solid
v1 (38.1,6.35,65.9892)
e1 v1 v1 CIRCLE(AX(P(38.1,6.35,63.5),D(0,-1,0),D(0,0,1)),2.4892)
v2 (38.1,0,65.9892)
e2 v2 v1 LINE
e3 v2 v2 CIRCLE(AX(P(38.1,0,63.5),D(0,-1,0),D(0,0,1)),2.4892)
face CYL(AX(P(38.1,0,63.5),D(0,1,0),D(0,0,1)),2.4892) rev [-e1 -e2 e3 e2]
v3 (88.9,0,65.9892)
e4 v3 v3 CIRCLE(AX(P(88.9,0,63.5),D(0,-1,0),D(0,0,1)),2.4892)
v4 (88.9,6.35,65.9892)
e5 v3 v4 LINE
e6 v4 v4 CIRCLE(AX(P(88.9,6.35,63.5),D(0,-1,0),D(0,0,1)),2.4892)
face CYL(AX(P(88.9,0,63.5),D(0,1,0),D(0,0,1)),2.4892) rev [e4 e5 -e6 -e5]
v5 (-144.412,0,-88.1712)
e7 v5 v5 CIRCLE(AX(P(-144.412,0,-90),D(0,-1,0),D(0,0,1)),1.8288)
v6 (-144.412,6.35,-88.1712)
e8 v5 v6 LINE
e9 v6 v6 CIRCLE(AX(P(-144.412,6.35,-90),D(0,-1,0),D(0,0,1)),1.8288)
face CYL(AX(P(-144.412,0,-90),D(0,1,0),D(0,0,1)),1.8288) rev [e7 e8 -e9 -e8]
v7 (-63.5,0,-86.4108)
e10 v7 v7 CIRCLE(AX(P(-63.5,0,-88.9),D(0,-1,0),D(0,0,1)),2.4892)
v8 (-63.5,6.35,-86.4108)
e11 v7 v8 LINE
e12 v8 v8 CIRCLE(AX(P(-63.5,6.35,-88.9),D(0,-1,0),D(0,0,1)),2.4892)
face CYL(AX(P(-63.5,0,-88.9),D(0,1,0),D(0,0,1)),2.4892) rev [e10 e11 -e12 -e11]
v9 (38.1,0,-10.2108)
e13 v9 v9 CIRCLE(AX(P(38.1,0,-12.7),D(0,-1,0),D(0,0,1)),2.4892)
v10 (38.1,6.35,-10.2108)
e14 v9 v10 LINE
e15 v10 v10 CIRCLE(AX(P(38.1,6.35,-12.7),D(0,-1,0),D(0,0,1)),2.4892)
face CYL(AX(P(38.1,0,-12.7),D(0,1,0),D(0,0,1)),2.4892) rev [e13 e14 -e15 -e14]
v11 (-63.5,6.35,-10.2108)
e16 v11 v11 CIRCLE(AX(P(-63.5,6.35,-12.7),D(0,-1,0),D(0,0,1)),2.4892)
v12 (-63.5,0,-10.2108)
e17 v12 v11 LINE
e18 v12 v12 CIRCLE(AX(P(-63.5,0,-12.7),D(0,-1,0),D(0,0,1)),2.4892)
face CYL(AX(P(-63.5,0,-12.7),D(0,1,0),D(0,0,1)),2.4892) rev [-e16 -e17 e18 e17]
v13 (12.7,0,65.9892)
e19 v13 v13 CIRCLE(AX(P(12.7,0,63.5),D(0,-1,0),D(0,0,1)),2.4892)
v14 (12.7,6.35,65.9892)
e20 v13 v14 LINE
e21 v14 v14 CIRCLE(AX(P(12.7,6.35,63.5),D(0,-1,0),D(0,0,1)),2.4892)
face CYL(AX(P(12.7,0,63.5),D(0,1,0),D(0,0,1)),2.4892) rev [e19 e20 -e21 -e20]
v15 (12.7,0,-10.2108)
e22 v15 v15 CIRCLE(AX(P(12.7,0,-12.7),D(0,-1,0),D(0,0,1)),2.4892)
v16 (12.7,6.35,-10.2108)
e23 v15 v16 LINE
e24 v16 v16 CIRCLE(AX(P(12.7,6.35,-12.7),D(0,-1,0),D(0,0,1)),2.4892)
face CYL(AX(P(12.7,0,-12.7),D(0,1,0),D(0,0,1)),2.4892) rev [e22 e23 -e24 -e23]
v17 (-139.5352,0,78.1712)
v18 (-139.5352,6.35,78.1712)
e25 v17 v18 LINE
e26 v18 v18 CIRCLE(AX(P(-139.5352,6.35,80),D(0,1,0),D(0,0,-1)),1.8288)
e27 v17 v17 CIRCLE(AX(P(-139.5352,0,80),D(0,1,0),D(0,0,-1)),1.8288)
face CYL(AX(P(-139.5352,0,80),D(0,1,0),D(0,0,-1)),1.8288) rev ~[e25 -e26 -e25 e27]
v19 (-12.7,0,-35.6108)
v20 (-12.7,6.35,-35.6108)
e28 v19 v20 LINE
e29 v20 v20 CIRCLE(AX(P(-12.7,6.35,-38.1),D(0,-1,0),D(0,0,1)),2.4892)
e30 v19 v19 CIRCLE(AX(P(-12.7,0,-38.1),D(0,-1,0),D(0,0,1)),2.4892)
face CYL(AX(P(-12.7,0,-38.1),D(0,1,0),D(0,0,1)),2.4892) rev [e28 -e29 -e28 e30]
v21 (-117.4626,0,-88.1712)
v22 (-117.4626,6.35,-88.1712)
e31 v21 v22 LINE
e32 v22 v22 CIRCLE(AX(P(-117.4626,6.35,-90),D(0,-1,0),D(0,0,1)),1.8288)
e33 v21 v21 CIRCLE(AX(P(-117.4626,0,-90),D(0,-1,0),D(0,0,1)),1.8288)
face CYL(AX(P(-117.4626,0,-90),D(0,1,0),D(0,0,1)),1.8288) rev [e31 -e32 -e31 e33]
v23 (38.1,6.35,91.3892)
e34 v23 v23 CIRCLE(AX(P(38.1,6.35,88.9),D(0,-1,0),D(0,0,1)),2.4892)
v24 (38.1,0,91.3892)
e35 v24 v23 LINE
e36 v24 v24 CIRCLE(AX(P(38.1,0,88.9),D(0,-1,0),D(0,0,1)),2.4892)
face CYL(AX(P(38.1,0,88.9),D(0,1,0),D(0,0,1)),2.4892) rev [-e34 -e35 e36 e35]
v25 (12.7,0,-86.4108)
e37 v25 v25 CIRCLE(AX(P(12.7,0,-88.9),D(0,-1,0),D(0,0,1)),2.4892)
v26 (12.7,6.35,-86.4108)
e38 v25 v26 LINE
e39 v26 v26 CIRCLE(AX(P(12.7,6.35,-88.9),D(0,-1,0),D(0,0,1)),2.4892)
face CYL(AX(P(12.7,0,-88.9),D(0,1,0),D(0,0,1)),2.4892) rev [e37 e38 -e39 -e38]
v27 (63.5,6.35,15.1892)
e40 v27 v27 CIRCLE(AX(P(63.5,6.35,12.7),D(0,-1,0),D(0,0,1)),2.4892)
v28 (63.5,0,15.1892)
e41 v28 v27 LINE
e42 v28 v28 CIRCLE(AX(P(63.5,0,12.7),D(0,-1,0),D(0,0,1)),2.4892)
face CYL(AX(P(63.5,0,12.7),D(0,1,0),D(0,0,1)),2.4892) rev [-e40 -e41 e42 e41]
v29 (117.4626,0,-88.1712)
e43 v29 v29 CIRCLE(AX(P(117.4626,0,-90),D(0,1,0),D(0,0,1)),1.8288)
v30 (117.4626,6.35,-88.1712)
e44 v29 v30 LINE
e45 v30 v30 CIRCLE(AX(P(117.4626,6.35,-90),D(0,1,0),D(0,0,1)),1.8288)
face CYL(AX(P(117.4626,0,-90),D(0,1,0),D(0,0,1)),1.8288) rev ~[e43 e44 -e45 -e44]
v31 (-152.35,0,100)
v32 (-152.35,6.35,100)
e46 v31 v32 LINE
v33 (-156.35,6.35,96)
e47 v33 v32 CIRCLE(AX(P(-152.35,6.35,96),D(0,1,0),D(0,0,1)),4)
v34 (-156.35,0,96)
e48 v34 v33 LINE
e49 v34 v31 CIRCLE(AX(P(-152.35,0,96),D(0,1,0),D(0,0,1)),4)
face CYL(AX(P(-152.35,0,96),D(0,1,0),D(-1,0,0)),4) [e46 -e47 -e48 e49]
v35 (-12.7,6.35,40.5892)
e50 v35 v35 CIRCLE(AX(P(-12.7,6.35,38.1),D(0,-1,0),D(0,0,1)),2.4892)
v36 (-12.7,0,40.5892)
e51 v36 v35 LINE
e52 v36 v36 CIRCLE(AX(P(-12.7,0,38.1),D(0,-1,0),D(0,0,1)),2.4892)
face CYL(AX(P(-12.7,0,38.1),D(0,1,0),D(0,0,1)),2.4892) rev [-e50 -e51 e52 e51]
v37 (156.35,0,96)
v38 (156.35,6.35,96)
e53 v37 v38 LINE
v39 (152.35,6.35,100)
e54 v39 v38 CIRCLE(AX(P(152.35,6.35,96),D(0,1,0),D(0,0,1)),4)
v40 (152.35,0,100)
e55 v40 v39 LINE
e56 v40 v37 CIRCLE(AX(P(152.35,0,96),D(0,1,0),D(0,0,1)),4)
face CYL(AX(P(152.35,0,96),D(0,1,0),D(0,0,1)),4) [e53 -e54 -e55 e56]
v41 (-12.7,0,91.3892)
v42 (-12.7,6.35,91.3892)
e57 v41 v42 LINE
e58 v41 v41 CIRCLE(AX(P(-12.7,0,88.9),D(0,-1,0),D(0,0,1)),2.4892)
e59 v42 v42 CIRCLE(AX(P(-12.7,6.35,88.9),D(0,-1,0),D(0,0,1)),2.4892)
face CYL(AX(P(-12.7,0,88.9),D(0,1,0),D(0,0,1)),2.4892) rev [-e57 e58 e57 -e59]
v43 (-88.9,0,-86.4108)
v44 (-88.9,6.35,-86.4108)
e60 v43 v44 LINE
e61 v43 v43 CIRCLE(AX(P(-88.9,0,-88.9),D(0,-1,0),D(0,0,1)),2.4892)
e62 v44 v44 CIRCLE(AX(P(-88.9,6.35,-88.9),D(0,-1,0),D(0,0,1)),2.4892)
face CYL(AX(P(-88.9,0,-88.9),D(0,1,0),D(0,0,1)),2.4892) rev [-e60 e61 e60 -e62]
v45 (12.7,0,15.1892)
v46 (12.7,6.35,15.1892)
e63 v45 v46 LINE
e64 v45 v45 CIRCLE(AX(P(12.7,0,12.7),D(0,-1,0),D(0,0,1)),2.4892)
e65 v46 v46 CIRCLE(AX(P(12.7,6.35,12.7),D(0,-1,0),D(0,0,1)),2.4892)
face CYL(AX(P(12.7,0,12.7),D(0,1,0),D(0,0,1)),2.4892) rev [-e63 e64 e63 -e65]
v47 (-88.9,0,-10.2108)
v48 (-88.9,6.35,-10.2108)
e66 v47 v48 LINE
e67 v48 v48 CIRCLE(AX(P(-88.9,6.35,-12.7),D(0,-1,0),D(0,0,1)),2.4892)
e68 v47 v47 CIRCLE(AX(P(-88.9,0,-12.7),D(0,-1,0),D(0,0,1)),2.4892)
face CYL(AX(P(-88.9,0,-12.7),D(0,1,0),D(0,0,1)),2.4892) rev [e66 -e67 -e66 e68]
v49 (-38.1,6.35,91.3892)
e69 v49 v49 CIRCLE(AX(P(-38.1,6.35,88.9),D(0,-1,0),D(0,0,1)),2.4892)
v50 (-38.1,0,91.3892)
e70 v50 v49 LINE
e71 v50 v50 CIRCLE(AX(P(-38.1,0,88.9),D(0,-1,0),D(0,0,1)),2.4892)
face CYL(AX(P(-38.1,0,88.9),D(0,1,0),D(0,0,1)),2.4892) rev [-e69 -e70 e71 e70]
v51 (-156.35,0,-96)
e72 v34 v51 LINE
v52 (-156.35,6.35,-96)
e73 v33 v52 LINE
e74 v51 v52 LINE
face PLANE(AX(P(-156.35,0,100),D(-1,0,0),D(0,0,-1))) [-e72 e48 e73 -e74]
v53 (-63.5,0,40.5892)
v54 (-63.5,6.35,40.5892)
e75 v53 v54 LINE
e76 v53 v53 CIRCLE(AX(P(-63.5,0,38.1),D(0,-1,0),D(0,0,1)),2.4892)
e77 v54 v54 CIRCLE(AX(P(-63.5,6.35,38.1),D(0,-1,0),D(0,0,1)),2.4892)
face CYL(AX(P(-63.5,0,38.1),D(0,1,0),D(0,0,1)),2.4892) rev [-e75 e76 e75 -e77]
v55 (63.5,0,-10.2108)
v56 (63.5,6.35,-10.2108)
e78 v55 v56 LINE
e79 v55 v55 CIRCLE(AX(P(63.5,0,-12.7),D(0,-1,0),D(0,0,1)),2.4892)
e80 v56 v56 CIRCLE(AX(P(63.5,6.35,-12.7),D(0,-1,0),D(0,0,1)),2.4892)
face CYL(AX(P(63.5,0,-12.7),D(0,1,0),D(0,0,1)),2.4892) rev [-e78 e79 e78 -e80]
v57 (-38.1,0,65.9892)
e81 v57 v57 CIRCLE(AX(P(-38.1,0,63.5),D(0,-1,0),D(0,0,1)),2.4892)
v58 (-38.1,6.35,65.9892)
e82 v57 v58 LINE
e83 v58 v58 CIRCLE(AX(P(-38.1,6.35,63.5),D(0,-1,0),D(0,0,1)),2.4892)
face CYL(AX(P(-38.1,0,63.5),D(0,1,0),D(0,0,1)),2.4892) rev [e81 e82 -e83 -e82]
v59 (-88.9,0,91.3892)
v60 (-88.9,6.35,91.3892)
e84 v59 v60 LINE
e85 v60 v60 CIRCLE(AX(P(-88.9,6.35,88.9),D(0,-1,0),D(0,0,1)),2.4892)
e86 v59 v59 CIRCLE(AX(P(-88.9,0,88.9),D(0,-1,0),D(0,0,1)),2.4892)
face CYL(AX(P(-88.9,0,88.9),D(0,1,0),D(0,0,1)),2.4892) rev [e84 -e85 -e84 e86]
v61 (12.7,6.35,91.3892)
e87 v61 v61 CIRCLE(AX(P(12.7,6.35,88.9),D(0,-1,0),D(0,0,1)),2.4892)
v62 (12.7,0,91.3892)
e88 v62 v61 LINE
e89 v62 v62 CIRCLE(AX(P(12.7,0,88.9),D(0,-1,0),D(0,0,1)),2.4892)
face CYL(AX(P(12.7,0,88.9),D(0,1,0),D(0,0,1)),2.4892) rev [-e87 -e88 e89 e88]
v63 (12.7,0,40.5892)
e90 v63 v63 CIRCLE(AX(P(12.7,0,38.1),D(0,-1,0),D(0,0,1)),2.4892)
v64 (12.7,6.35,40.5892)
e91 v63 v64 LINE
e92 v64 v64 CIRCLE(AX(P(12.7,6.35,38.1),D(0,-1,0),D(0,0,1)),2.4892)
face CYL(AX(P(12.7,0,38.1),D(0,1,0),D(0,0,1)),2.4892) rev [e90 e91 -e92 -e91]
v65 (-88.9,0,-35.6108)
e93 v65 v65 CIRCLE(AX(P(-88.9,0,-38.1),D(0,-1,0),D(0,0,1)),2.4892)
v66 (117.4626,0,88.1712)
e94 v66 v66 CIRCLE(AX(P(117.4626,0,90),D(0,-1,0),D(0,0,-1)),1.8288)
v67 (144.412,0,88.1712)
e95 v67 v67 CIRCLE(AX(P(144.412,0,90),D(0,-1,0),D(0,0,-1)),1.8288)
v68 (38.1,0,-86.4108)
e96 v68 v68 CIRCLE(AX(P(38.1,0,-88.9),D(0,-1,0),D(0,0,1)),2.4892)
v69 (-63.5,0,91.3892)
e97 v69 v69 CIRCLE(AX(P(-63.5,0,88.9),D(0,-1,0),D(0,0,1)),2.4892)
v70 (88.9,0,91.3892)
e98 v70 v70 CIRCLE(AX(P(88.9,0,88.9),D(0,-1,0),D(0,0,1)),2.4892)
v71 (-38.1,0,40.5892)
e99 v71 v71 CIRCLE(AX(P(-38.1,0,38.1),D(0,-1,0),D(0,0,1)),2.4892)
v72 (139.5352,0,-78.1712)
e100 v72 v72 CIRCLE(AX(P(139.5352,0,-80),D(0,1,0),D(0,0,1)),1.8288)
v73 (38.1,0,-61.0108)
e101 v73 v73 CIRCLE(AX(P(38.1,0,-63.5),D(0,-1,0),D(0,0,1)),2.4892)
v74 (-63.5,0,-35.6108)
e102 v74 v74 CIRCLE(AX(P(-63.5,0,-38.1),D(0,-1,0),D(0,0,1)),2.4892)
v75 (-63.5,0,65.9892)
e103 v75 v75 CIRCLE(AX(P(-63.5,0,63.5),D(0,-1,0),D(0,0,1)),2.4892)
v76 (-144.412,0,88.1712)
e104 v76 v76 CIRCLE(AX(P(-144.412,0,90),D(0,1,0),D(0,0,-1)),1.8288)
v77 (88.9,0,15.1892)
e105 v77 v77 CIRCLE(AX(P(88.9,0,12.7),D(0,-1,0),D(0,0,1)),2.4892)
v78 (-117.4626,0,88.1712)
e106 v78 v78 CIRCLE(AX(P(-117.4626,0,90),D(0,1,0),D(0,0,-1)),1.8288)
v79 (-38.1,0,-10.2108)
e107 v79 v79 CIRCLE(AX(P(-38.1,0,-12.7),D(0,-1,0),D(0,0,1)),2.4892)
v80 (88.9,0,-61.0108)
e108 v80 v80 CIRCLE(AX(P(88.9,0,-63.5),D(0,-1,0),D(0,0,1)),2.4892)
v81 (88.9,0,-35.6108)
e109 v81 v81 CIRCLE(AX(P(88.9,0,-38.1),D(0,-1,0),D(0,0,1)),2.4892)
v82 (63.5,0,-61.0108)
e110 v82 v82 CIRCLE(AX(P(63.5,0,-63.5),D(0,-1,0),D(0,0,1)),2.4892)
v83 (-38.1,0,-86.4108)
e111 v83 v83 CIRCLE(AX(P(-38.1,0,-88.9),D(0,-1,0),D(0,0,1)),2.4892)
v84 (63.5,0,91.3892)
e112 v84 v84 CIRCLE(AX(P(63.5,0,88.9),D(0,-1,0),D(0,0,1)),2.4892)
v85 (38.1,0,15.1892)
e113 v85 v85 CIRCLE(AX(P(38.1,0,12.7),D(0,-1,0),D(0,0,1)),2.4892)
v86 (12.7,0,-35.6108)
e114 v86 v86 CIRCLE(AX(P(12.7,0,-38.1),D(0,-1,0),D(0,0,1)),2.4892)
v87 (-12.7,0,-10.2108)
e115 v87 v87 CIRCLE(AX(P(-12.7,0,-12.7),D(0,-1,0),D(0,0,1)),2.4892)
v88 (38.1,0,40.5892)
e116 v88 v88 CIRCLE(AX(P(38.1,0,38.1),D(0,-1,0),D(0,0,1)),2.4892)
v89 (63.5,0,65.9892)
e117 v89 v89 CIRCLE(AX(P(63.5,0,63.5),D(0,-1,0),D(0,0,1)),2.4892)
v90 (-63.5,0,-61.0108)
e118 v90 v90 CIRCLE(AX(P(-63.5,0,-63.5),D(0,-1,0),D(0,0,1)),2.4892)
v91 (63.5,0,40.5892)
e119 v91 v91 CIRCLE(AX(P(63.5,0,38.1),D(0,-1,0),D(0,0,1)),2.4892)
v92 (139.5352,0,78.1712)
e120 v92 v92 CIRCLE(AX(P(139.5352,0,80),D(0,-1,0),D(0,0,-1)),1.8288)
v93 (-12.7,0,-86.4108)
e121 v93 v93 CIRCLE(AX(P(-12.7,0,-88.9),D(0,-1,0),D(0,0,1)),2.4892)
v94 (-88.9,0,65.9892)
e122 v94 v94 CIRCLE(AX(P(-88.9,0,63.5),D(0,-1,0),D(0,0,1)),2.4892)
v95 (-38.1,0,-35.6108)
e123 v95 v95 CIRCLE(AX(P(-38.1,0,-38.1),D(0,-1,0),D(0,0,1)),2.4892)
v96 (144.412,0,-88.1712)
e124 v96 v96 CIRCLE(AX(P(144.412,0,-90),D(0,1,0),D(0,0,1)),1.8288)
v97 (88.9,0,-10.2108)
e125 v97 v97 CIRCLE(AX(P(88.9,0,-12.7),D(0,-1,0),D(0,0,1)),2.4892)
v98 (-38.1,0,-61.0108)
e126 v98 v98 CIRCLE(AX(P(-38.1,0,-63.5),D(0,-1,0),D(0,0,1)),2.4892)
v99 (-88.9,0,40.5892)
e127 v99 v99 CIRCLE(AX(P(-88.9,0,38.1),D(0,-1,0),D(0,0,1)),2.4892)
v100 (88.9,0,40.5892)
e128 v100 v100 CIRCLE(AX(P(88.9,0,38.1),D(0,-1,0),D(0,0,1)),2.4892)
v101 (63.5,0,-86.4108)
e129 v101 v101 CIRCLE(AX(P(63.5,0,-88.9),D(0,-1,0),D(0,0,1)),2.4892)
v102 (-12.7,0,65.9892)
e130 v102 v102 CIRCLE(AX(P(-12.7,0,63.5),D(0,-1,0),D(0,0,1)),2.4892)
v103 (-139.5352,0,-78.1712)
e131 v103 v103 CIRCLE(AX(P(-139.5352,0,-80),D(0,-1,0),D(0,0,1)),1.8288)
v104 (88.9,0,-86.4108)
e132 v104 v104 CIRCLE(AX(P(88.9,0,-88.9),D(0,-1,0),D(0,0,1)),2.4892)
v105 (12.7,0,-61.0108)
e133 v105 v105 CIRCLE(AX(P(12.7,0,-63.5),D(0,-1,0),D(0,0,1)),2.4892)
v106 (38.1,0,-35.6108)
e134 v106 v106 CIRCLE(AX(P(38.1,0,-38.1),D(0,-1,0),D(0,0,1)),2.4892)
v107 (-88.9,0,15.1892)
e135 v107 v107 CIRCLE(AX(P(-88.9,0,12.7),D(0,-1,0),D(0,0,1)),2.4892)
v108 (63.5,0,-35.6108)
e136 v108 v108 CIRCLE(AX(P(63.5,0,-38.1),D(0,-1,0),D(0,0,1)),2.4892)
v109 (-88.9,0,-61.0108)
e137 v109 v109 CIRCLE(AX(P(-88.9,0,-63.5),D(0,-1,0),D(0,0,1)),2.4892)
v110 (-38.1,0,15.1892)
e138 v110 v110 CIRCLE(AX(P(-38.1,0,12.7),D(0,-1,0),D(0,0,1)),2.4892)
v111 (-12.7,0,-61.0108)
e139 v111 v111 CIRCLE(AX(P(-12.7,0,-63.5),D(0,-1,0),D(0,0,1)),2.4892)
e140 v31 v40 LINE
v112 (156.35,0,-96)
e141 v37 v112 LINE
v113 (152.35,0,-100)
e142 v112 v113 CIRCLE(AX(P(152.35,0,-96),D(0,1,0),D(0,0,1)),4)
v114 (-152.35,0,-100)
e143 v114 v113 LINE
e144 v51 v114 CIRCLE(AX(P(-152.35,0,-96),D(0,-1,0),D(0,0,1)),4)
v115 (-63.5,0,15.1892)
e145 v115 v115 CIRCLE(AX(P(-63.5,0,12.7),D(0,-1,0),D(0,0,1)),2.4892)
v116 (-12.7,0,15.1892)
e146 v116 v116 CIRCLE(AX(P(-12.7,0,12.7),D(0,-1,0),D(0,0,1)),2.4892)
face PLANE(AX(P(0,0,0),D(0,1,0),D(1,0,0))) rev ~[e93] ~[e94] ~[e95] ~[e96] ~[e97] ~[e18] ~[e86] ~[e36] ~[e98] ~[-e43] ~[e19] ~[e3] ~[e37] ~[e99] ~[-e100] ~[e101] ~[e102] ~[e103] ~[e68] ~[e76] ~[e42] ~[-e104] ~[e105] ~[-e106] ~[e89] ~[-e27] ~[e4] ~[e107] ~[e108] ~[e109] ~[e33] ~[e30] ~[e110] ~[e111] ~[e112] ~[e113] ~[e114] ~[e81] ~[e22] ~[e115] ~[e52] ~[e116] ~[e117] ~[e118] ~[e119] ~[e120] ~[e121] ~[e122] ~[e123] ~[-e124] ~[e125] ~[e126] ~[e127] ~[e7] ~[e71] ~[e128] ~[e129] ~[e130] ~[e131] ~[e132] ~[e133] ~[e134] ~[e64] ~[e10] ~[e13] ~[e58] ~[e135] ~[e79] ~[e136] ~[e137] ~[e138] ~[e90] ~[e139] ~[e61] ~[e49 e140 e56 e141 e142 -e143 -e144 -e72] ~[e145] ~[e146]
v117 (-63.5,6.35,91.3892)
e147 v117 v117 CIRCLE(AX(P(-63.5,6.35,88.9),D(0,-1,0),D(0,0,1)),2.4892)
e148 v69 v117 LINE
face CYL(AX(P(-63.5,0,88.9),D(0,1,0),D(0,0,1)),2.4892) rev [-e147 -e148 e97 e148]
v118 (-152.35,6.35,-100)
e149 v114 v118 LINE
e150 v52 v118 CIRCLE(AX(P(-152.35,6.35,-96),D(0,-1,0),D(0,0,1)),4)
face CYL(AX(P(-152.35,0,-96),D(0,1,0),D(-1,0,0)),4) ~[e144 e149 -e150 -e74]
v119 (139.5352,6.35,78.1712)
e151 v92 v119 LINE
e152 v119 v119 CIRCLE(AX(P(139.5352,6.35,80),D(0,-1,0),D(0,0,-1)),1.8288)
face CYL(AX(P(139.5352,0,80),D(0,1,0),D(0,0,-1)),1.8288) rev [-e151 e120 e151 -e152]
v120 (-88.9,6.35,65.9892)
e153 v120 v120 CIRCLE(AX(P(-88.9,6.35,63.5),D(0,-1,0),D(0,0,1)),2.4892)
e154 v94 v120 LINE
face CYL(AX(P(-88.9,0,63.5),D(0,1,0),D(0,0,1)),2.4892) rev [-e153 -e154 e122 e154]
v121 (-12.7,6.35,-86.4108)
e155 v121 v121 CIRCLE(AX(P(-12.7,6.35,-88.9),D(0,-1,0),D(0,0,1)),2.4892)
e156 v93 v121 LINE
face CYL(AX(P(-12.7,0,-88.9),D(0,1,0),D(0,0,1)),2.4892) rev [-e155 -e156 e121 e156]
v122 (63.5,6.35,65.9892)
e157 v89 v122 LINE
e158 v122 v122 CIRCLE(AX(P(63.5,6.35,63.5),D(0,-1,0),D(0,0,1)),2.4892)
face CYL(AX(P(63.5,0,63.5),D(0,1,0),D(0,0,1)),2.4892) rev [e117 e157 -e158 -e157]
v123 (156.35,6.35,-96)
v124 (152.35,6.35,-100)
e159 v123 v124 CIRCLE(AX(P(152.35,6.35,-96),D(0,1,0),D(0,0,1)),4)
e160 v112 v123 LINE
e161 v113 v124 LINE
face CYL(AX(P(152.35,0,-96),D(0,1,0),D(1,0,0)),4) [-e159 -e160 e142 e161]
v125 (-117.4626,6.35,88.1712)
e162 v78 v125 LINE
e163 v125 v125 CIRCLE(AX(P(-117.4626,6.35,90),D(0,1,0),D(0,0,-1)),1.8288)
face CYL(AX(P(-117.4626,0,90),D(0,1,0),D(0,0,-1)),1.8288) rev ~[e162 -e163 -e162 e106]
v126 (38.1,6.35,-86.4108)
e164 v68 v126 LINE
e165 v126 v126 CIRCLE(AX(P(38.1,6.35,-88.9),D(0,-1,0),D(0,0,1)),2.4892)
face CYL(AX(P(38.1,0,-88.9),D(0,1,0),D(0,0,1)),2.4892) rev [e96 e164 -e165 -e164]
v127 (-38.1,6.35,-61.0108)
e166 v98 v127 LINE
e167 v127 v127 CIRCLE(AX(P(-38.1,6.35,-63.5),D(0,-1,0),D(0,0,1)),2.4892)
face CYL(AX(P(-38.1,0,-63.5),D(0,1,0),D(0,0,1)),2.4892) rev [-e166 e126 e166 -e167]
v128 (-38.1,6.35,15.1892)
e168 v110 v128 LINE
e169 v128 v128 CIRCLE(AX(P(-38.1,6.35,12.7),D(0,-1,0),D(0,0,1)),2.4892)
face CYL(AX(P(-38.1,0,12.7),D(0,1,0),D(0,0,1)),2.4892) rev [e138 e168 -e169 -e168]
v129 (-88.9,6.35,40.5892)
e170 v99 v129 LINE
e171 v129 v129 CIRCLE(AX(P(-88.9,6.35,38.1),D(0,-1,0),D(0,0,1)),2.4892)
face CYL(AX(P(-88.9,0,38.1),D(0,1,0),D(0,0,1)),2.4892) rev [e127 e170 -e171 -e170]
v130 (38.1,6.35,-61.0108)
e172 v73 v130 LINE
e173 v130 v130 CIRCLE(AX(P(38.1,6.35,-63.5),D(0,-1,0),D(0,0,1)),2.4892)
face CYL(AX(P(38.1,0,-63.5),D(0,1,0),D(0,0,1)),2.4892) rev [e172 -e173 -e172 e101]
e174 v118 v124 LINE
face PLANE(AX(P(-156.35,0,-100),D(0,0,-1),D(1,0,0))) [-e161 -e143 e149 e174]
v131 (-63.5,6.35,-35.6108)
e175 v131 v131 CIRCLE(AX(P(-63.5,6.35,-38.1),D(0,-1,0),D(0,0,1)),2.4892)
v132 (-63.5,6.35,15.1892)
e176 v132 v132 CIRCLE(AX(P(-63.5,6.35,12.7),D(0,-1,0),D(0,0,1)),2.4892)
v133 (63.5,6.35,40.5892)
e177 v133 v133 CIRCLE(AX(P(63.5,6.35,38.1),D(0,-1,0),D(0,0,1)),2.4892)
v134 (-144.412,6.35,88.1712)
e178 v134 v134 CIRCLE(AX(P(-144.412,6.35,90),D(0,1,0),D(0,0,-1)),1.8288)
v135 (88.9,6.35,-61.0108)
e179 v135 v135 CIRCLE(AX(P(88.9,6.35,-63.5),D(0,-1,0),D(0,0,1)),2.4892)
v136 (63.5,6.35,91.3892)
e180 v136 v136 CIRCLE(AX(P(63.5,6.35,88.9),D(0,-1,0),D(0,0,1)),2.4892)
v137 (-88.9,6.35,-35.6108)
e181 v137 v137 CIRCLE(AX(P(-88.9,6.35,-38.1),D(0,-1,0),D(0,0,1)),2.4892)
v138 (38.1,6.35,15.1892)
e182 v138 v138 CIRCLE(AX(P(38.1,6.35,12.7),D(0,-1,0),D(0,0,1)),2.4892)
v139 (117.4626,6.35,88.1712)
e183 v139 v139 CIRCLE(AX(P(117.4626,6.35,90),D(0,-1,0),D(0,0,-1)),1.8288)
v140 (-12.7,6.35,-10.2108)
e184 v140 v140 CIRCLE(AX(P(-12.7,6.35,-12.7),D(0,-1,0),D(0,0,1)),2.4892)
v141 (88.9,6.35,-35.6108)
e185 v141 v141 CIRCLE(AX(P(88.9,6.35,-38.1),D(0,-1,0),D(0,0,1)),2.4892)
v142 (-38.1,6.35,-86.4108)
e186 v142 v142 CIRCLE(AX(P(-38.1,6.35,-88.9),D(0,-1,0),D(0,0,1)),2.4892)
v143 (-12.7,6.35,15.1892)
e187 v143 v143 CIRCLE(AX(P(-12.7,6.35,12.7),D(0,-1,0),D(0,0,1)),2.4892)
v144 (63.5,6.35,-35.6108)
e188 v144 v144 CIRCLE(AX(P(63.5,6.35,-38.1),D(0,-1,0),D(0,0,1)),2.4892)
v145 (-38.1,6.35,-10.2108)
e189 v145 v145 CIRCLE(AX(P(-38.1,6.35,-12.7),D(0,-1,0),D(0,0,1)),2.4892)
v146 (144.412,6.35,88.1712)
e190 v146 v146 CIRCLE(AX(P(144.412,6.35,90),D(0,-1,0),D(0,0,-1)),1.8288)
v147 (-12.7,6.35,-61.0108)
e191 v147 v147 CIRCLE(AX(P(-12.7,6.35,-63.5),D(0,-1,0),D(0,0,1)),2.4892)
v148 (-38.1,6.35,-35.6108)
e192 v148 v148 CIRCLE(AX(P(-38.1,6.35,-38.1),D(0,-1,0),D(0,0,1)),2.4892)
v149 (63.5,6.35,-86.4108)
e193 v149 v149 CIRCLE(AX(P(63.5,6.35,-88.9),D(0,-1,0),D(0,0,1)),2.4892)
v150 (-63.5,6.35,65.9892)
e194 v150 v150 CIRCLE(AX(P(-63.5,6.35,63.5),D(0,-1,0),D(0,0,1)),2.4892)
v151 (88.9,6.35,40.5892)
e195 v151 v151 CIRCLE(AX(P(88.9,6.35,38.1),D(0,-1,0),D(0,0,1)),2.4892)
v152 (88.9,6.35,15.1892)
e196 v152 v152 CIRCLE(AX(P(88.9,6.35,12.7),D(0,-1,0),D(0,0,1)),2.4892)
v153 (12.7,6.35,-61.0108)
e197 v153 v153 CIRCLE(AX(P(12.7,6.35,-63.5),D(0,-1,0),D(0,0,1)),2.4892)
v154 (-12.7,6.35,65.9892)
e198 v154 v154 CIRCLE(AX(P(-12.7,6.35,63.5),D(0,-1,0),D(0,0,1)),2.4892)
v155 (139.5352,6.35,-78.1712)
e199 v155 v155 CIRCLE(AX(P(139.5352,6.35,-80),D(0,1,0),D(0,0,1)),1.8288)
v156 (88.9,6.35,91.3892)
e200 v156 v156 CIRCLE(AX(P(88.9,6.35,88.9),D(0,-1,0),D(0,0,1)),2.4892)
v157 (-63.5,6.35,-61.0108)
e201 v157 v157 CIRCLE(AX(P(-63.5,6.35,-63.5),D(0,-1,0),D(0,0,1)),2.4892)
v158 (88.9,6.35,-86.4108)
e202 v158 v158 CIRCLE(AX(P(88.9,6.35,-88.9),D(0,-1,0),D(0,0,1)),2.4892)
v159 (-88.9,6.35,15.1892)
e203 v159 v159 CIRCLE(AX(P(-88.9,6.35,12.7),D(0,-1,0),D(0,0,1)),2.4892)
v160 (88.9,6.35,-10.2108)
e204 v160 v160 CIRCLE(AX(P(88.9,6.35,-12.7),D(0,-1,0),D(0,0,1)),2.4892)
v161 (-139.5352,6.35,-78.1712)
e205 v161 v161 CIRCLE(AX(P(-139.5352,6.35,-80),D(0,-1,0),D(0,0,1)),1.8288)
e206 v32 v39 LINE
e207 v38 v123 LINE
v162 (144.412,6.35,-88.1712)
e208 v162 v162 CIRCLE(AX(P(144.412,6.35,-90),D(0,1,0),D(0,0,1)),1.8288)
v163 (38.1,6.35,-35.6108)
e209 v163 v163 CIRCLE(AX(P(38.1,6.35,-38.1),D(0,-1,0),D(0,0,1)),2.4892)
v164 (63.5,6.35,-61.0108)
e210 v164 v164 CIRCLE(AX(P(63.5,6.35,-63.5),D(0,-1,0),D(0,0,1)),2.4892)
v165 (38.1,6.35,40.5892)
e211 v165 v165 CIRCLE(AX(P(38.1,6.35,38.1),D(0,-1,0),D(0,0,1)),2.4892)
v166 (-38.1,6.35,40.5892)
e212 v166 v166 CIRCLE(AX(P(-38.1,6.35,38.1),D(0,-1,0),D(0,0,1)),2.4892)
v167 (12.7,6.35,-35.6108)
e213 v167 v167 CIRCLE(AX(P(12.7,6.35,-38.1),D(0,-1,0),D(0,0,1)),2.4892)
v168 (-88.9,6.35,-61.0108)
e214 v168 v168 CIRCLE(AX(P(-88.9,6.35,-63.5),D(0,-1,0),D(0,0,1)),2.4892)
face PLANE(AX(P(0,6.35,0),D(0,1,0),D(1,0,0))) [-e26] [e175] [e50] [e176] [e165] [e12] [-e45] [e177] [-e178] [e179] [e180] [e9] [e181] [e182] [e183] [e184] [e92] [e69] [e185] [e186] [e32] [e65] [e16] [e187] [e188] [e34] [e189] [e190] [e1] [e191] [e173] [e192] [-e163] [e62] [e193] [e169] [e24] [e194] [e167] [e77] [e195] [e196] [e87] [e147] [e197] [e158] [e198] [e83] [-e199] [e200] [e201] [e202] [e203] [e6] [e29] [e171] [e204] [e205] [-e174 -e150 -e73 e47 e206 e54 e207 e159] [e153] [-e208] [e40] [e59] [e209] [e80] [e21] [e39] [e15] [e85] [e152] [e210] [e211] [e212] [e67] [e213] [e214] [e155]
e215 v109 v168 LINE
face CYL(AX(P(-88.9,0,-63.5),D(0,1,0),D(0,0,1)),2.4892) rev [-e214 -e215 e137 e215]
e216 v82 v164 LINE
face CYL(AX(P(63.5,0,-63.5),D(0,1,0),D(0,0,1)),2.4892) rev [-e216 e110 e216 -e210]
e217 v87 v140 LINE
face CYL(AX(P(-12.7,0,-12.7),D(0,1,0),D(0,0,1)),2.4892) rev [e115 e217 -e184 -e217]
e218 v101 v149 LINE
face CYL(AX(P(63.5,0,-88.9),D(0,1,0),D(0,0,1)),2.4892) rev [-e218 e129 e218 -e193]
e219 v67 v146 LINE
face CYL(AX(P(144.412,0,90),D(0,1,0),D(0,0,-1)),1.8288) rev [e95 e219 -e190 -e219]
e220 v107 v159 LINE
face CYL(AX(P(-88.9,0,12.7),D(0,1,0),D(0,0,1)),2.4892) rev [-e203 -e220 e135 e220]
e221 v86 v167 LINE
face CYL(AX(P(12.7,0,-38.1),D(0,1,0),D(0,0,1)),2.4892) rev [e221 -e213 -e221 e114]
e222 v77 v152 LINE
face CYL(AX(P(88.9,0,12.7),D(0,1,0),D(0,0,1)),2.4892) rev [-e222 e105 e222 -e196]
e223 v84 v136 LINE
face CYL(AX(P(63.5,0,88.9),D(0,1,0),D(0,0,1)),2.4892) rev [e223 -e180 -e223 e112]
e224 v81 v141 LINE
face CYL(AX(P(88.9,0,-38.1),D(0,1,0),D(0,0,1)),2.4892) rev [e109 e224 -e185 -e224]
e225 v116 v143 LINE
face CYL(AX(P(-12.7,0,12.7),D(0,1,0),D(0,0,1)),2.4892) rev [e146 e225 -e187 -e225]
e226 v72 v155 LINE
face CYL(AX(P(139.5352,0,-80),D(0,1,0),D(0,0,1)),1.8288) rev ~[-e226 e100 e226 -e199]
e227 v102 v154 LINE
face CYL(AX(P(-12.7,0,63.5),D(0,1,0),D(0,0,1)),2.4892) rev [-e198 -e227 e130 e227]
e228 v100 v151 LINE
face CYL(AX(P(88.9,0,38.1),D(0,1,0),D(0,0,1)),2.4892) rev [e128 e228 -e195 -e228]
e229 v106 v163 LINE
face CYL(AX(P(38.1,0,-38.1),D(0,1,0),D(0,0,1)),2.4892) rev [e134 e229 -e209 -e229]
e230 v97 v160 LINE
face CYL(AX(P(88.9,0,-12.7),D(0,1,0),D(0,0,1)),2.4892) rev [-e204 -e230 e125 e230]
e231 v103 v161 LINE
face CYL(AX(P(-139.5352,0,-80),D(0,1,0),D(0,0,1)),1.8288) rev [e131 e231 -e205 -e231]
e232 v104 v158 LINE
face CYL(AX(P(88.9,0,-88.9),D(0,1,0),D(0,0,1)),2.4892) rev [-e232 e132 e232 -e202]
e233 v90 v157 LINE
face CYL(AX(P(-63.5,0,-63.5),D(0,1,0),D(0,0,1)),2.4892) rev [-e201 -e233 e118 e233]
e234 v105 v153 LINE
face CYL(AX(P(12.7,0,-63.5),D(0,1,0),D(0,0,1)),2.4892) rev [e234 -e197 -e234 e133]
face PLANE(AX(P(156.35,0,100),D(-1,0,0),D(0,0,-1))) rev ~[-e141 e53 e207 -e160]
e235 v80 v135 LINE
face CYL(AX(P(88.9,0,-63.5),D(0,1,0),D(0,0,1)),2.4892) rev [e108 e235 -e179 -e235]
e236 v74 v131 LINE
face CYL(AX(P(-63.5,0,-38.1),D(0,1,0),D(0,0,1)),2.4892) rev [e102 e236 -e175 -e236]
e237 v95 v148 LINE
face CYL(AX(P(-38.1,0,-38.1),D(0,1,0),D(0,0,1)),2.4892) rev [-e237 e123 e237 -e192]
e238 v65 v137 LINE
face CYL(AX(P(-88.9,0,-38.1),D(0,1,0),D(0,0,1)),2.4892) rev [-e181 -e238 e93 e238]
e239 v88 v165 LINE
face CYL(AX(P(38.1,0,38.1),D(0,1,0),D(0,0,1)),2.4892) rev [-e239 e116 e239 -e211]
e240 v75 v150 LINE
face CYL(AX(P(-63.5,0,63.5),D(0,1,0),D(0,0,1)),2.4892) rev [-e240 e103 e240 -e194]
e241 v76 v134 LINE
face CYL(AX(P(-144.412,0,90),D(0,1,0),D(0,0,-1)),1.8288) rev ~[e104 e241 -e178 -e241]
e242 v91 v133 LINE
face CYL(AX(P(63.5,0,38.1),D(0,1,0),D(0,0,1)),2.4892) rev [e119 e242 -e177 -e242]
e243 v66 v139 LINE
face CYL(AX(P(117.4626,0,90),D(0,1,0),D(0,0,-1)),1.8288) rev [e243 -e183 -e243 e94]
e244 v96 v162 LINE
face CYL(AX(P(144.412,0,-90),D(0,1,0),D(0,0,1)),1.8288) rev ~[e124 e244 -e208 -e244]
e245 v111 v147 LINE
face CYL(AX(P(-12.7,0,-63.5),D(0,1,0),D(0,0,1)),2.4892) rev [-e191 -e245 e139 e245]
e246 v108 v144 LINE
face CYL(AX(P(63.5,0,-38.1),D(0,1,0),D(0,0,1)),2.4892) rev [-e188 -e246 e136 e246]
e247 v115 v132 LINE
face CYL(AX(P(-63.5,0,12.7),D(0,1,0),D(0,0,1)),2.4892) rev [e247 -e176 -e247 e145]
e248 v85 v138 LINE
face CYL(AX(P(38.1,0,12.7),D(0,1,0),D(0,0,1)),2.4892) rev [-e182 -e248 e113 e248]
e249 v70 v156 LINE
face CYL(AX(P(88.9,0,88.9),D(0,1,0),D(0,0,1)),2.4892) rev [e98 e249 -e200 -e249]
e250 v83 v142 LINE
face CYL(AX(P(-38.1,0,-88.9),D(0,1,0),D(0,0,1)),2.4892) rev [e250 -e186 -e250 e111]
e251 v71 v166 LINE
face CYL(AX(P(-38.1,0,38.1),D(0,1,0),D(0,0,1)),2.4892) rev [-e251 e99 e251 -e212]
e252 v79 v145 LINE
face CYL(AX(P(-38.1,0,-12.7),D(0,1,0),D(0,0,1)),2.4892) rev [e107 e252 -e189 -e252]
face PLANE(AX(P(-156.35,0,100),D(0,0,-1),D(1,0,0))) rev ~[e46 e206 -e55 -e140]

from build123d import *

# Parameters (mm, degrees)
SKETCH1_W                      = 312.7
SKETCH1_H                      = 200
BOSS_EXTRUDE1_DEPTH            = 6.35
FILLET1_R                      = 4
F_6_CLEARANCE_HOLE1_AT_2_COUNT = 2
F_6_CLEARANCE_HOLE1_AT_2_PITCH = 26.9494
F_6_CLEARANCE_HOLE1_AT_3_COUNT = 2
F_6_CLEARANCE_HOLE1_AT_3_PITCH = 11.125788882
LPATTERN2_COUNT                = 8
LPATTERN2_PITCH                = 25.4
LPATTERN3_COUNT                = 8
LPATTERN3_PITCH                = 25.4


with BuildPart() as part:
    # Sketch1 → Boss-Extrude1 (new body)
    with BuildSketch(Plane(origin=(0, 0, 0), x_dir=(1, 0, 0), z_dir=(0, 1, 0))):
        Rectangle(SKETCH1_W, SKETCH1_H)
    extrude(amount=BOSS_EXTRUDE1_DEPTH)

    # Fillet1
    fillet1_edges = [part.edges().sort_by_distance(p)[0] for p in [
        (156.35, 3.175, 100),
        (-156.35, 3.175, 100),
        (-156.35, 3.175, -100),
        (156.35, 3.175, -100),
    ]]
    fillet(fillet1_edges, radius=FILLET1_R)

    # Sketch4 → #6 Clearance Hole1 (revolve, cut)
    with BuildSketch(Plane(origin=(-144.412, 6.35, -90), x_dir=(0, 0, 1), z_dir=(1, 0, 0))):
        Polygon((0, 0), (0, 7.4488539), (1.8288, 6.35), (1.8288, 0), align=None)
    f_6_clearance_hole1 = revolve(axis=Axis((-144.412, 12.7, -90), (0, -1, 0)), mode=Mode.SUBTRACT)

    # #6 Clearance Hole1 at 2: #6 Clearance Hole1 ×2
    with Locations(*[(i * F_6_CLEARANCE_HOLE1_AT_2_PITCH, 0, 0) for i in range(1, F_6_CLEARANCE_HOLE1_AT_2_COUNT)]):
        add(f_6_clearance_hole1, mode=Mode.SUBTRACT)

    # #6 Clearance Hole1 at 3: #6 Clearance Hole1 ×2
    with Locations(*[Vector(0.438332962, 0, 0.898812669) * (i * F_6_CLEARANCE_HOLE1_AT_3_PITCH) for i in range(1, F_6_CLEARANCE_HOLE1_AT_3_COUNT)]):
        add(f_6_clearance_hole1, mode=Mode.SUBTRACT)

    # Mirror1: #6 Clearance Hole1 across plane
    add(f_6_clearance_hole1.mirror(Plane.XY), mode=Mode.SUBTRACT)

    # Mirror1 copy 1 sketch → Mirror1 copy 1 (revolve, cut)
    with BuildSketch(Plane(origin=(-117.4626, 6.35, 90), x_dir=(0, 0, -1), z_dir=(1, 0, 0))):
        Polygon((0, 0), (0, -7.4488539), (1.8288, -6.35), (1.8288, 0), align=None)
    revolve(axis=Axis((-117.4626, 12.7, 90), (0, 1, 0)), mode=Mode.SUBTRACT)

    # Mirror1 copy 2 sketch → Mirror1 copy 2 (revolve, cut)
    with BuildSketch(Plane(origin=(-139.5352, 6.35, 80), x_dir=(0, 0, -1), z_dir=(1, 0, 0))):
        Polygon((0, 0), (0, -7.4488539), (1.8288, -6.35), (1.8288, 0), align=None)
    revolve(axis=Axis((-139.5352, 12.7, 80), (0, 1, 0)), mode=Mode.SUBTRACT)

    # Mirror2: #6 Clearance Hole1 across plane
    add(f_6_clearance_hole1.mirror(Plane(origin=(0, 0, 0), x_dir=(0, 0, 1), z_dir=(1, 0, 0))), mode=Mode.SUBTRACT)

    # Mirror2 copy 1 sketch → Mirror2 copy 1 (revolve, cut)
    with BuildSketch(Plane(origin=(144.412, 6.35, 90), x_dir=(0, 0, -1), z_dir=(-1, 0, 0))):
        Polygon((0, 0), (0, 7.4488539), (1.8288, 6.35), (1.8288, 0), align=None)
    revolve(axis=Axis((144.412, 12.7, 90), (0, -1, 0)), mode=Mode.SUBTRACT)

    # Mirror2 copy 2 sketch → Mirror2 copy 2 (revolve, cut)
    with BuildSketch(Plane(origin=(117.4626, 6.35, 90), x_dir=(0, 0, -1), z_dir=(-1, 0, 0))):
        Polygon((0, 0), (0, 7.4488539), (1.8288, 6.35), (1.8288, 0), align=None)
    revolve(axis=Axis((117.4626, 12.7, 90), (0, -1, 0)), mode=Mode.SUBTRACT)

    # Mirror2 copy 3 sketch → Mirror2 copy 3 (revolve, cut)
    with BuildSketch(Plane(origin=(139.5352, 6.35, 80), x_dir=(0, 0, -1), z_dir=(-1, 0, 0))):
        Polygon((0, 0), (0, 7.4488539), (1.8288, 6.35), (1.8288, 0), align=None)
    revolve(axis=Axis((139.5352, 12.7, 80), (0, -1, 0)), mode=Mode.SUBTRACT)

    # Mirror2 copy 4 sketch → Mirror2 copy 4 (revolve, cut)
    with BuildSketch(Plane(origin=(117.4626, 6.35, -90), x_dir=(0, 0, 1), z_dir=(-1, 0, 0))):
        Polygon((0, 0), (0, -7.4488539), (1.8288, -6.35), (1.8288, 0), align=None)
    revolve(axis=Axis((117.4626, 12.7, -90), (0, 1, 0)), mode=Mode.SUBTRACT)

    # Mirror2 copy 5 sketch → Mirror2 copy 5 (revolve, cut)
    with BuildSketch(Plane(origin=(139.5352, 6.35, -80), x_dir=(0, 0, 1), z_dir=(-1, 0, 0))):
        Polygon((0, 0), (0, -7.4488539), (1.8288, -6.35), (1.8288, 0), align=None)
    revolve(axis=Axis((139.5352, 12.7, -80), (0, 1, 0)), mode=Mode.SUBTRACT)

    # Sketch9 → #10 Clearance Hole3 (revolve, cut)
    with BuildSketch(Plane(origin=(-88.9, 6.35, 88.9), x_dir=(0, 0, 1), z_dir=(1, 0, 0))):
        Polygon((0, 0), (0, 7.845662253), (2.4892, 6.35), (2.4892, 0), align=None)
    f_10_clearance_hole3 = revolve(axis=Axis((-88.9, 12.7, 88.9), (0, -1, 0)), mode=Mode.SUBTRACT)

    # LPattern2: #10 Clearance Hole3 ×8
    with Locations(*[(0, 0, -i * LPATTERN2_PITCH) for i in range(1, LPATTERN2_COUNT)]):
        add(f_10_clearance_hole3, mode=Mode.SUBTRACT)

    # LPattern3: #10 Clearance Hole3 ×8
    with Locations(*[(i * LPATTERN3_PITCH, 0, 0) for i in range(1, LPATTERN3_COUNT)]):
        add(f_10_clearance_hole3, mode=Mode.SUBTRACT)

    # LPattern3 copy 1 sketch → LPattern3 copy 1 (revolve, cut)
    with BuildSketch(Plane(origin=(-63.5, 6.35, 63.5), x_dir=(0, 0, 1), z_dir=(1, 0, 0))):
        Polygon((0, 0), (0, 7.845662253), (2.4892, 6.35), (2.4892, 0), align=None)
    revolve(axis=Axis((-63.5, 12.7, 63.5), (0, -1, 0)), mode=Mode.SUBTRACT)

    # LPattern3 copy 2 sketch → LPattern3 copy 2 (revolve, cut)
    with BuildSketch(Plane(origin=(-38.1, 6.35, 63.5), x_dir=(0, 0, 1), z_dir=(1, 0, 0))):
        Polygon((0, 0), (0, 7.845662253), (2.4892, 6.35), (2.4892, 0), align=None)
    revolve(axis=Axis((-38.1, 12.7, 63.5), (0, -1, 0)), mode=Mode.SUBTRACT)

    # LPattern3 copy 3 sketch → LPattern3 copy 3 (revolve, cut)
    with BuildSketch(Plane(origin=(-12.7, 6.35, 63.5), x_dir=(0, 0, 1), z_dir=(1, 0, 0))):
        Polygon((0, 0), (0, 7.845662253), (2.4892, 6.35), (2.4892, 0), align=None)
    revolve(axis=Axis((-12.7, 12.7, 63.5), (0, -1, 0)), mode=Mode.SUBTRACT)

    # LPattern3 copy 4 sketch → LPattern3 copy 4 (revolve, cut)
    with BuildSketch(Plane(origin=(12.7, 6.35, 63.5), x_dir=(0, 0, 1), z_dir=(1, 0, 0))):
        Polygon((0, 0), (0, 7.845662253), (2.4892, 6.35), (2.4892, 0), align=None)
    revolve(axis=Axis((12.7, 12.7, 63.5), (0, -1, 0)), mode=Mode.SUBTRACT)

    # LPattern3 copy 5 sketch → LPattern3 copy 5 (revolve, cut)
    with BuildSketch(Plane(origin=(38.1, 6.35, 63.5), x_dir=(0, 0, 1), z_dir=(1, 0, 0))):
        Polygon((0, 0), (0, 7.845662253), (2.4892, 6.35), (2.4892, 0), align=None)
    revolve(axis=Axis((38.1, 12.7, 63.5), (0, -1, 0)), mode=Mode.SUBTRACT)

    # LPattern3 copy 6 sketch → LPattern3 copy 6 (revolve, cut)
    with BuildSketch(Plane(origin=(63.5, 6.35, 63.5), x_dir=(0, 0, 1), z_dir=(1, 0, 0))):
        Polygon((0, 0), (0, 7.845662253), (2.4892, 6.35), (2.4892, 0), align=None)
    revolve(axis=Axis((63.5, 12.7, 63.5), (0, -1, 0)), mode=Mode.SUBTRACT)

    # LPattern3 copy 7 sketch → LPattern3 copy 7 (revolve, cut)
    with BuildSketch(Plane(origin=(88.9, 6.35, 63.5), x_dir=(0, 0, 1), z_dir=(1, 0, 0))):
        Polygon((0, 0), (0, 7.845662253), (2.4892, 6.35), (2.4892, 0), align=None)
    revolve(axis=Axis((88.9, 12.7, 63.5), (0, -1, 0)), mode=Mode.SUBTRACT)

    # LPattern3 copy 8 sketch → LPattern3 copy 8 (revolve, cut)
    with BuildSketch(Plane(origin=(-63.5, 6.35, 38.1), x_dir=(0, 0, 1), z_dir=(1, 0, 0))):
        Polygon((0, 0), (0, 7.845662253), (2.4892, 6.35), (2.4892, 0), align=None)
    revolve(axis=Axis((-63.5, 12.7, 38.1), (0, -1, 0)), mode=Mode.SUBTRACT)

    # LPattern3 copy 9 sketch → LPattern3 copy 9 (revolve, cut)
    with BuildSketch(Plane(origin=(-38.1, 6.35, 38.1), x_dir=(0, 0, 1), z_dir=(1, 0, 0))):
        Polygon((0, 0), (0, 7.845662253), (2.4892, 6.35), (2.4892, 0), align=None)
    revolve(axis=Axis((-38.1, 12.7, 38.1), (0, -1, 0)), mode=Mode.SUBTRACT)

    # LPattern3 copy 10 sketch → LPattern3 copy 10 (revolve, cut)
    with BuildSketch(Plane(origin=(-12.7, 6.35, 38.1), x_dir=(0, 0, 1), z_dir=(1, 0, 0))):
        Polygon((0, 0), (0, 7.845662253), (2.4892, 6.35), (2.4892, 0), align=None)
    revolve(axis=Axis((-12.7, 12.7, 38.1), (0, -1, 0)), mode=Mode.SUBTRACT)

    # LPattern3 copy 11 sketch → LPattern3 copy 11 (revolve, cut)
    with BuildSketch(Plane(origin=(12.7, 6.35, 38.1), x_dir=(0, 0, 1), z_dir=(1, 0, 0))):
        Polygon((0, 0), (0, 7.845662253), (2.4892, 6.35), (2.4892, 0), align=None)
    revolve(axis=Axis((12.7, 12.7, 38.1), (0, -1, 0)), mode=Mode.SUBTRACT)

    # LPattern3 copy 12 sketch → LPattern3 copy 12 (revolve, cut)
    with BuildSketch(Plane(origin=(38.1, 6.35, 38.1), x_dir=(0, 0, 1), z_dir=(1, 0, 0))):
        Polygon((0, 0), (0, 7.845662253), (2.4892, 6.35), (2.4892, 0), align=None)
    revolve(axis=Axis((38.1, 12.7, 38.1), (0, -1, 0)), mode=Mode.SUBTRACT)

    # LPattern3 copy 13 sketch → LPattern3 copy 13 (revolve, cut)
    with BuildSketch(Plane(origin=(63.5, 6.35, 38.1), x_dir=(0, 0, 1), z_dir=(1, 0, 0))):
        Polygon((0, 0), (0, 7.845662253), (2.4892, 6.35), (2.4892, 0), align=None)
    revolve(axis=Axis((63.5, 12.7, 38.1), (0, -1, 0)), mode=Mode.SUBTRACT)

    # LPattern3 copy 14 sketch → LPattern3 copy 14 (revolve, cut)
    with BuildSketch(Plane(origin=(88.9, 6.35, 38.1), x_dir=(0, 0, 1), z_dir=(1, 0, 0))):
        Polygon((0, 0), (0, 7.845662253), (2.4892, 6.35), (2.4892, 0), align=None)
    revolve(axis=Axis((88.9, 12.7, 38.1), (0, -1, 0)), mode=Mode.SUBTRACT)

    # LPattern3 copy 15 sketch → LPattern3 copy 15 (revolve, cut)
    with BuildSketch(Plane(origin=(-63.5, 6.35, 12.7), x_dir=(0, 0, 1), z_dir=(1, 0, 0))):
        Polygon((0, 0), (0, 7.845662253), (2.4892, 6.35), (2.4892, 0), align=None)
    revolve(axis=Axis((-63.5, 12.7, 12.7), (0, -1, 0)), mode=Mode.SUBTRACT)

    # LPattern3 copy 16 sketch → LPattern3 copy 16 (revolve, cut)
    with BuildSketch(Plane(origin=(-38.1, 6.35, 12.7), x_dir=(0, 0, 1), z_dir=(1, 0, 0))):
        Polygon((0, 0), (0, 7.845662253), (2.4892, 6.35), (2.4892, 0), align=None)
    revolve(axis=Axis((-38.1, 12.7, 12.7), (0, -1, 0)), mode=Mode.SUBTRACT)

    # LPattern3 copy 17 sketch → LPattern3 copy 17 (revolve, cut)
    with BuildSketch(Plane(origin=(-12.7, 6.35, 12.7), x_dir=(0, 0, 1), z_dir=(1, 0, 0))):
        Polygon((0, 0), (0, 7.845662253), (2.4892, 6.35), (2.4892, 0), align=None)
    revolve(axis=Axis((-12.7, 12.7, 12.7), (0, -1, 0)), mode=Mode.SUBTRACT)

    # LPattern3 copy 18 sketch → LPattern3 copy 18 (revolve, cut)
    with BuildSketch(Plane(origin=(12.7, 6.35, 12.7), x_dir=(0, 0, 1), z_dir=(1, 0, 0))):
        Polygon((0, 0), (0, 7.845662253), (2.4892, 6.35), (2.4892, 0), align=None)
    revolve(axis=Axis((12.7, 12.7, 12.7), (0, -1, 0)), mode=Mode.SUBTRACT)

    # LPattern3 copy 19 sketch → LPattern3 copy 19 (revolve, cut)
    with BuildSketch(Plane(origin=(38.1, 6.35, 12.7), x_dir=(0, 0, 1), z_dir=(1, 0, 0))):
        Polygon((0, 0), (0, 7.845662253), (2.4892, 6.35), (2.4892, 0), align=None)
    revolve(axis=Axis((38.1, 12.7, 12.7), (0, -1, 0)), mode=Mode.SUBTRACT)

    # LPattern3 copy 20 sketch → LPattern3 copy 20 (revolve, cut)
    with BuildSketch(Plane(origin=(63.5, 6.35, 12.7), x_dir=(0, 0, 1), z_dir=(1, 0, 0))):
        Polygon((0, 0), (0, 7.845662253), (2.4892, 6.35), (2.4892, 0), align=None)
    revolve(axis=Axis((63.5, 12.7, 12.7), (0, -1, 0)), mode=Mode.SUBTRACT)

    # LPattern3 copy 21 sketch → LPattern3 copy 21 (revolve, cut)
    with BuildSketch(Plane(origin=(88.9, 6.35, 12.7), x_dir=(0, 0, 1), z_dir=(1, 0, 0))):
        Polygon((0, 0), (0, 7.845662253), (2.4892, 6.35), (2.4892, 0), align=None)
    revolve(axis=Axis((88.9, 12.7, 12.7), (0, -1, 0)), mode=Mode.SUBTRACT)

    # LPattern3 copy 22 sketch → LPattern3 copy 22 (revolve, cut)
    with BuildSketch(Plane(origin=(-63.5, 6.35, -12.7), x_dir=(0, 0, 1), z_dir=(1, 0, 0))):
        Polygon((0, 0), (0, 7.845662253), (2.4892, 6.35), (2.4892, 0), align=None)
    revolve(axis=Axis((-63.5, 12.7, -12.7), (0, -1, 0)), mode=Mode.SUBTRACT)

    # LPattern3 copy 23 sketch → LPattern3 copy 23 (revolve, cut)
    with BuildSketch(Plane(origin=(-38.1, 6.35, -12.7), x_dir=(0, 0, 1), z_dir=(1, 0, 0))):
        Polygon((0, 0), (0, 7.845662253), (2.4892, 6.35), (2.4892, 0), align=None)
    revolve(axis=Axis((-38.1, 12.7, -12.7), (0, -1, 0)), mode=Mode.SUBTRACT)

    # LPattern3 copy 24 sketch → LPattern3 copy 24 (revolve, cut)
    with BuildSketch(Plane(origin=(-12.7, 6.35, -12.7), x_dir=(0, 0, 1), z_dir=(1, 0, 0))):
        Polygon((0, 0), (0, 7.845662253), (2.4892, 6.35), (2.4892, 0), align=None)
    revolve(axis=Axis((-12.7, 12.7, -12.7), (0, -1, 0)), mode=Mode.SUBTRACT)

    # LPattern3 copy 25 sketch → LPattern3 copy 25 (revolve, cut)
    with BuildSketch(Plane(origin=(12.7, 6.35, -12.7), x_dir=(0, 0, 1), z_dir=(1, 0, 0))):
        Polygon((0, 0), (0, 7.845662253), (2.4892, 6.35), (2.4892, 0), align=None)
    revolve(axis=Axis((12.7, 12.7, -12.7), (0, -1, 0)), mode=Mode.SUBTRACT)

    # LPattern3 copy 26 sketch → LPattern3 copy 26 (revolve, cut)
    with BuildSketch(Plane(origin=(38.1, 6.35, -12.7), x_dir=(0, 0, 1), z_dir=(1, 0, 0))):
        Polygon((0, 0), (0, 7.845662253), (2.4892, 6.35), (2.4892, 0), align=None)
    revolve(axis=Axis((38.1, 12.7, -12.7), (0, -1, 0)), mode=Mode.SUBTRACT)

    # LPattern3 copy 27 sketch → LPattern3 copy 27 (revolve, cut)
    with BuildSketch(Plane(origin=(63.5, 6.35, -12.7), x_dir=(0, 0, 1), z_dir=(1, 0, 0))):
        Polygon((0, 0), (0, 7.845662253), (2.4892, 6.35), (2.4892, 0), align=None)
    revolve(axis=Axis((63.5, 12.7, -12.7), (0, -1, 0)), mode=Mode.SUBTRACT)

    # LPattern3 copy 28 sketch → LPattern3 copy 28 (revolve, cut)
    with BuildSketch(Plane(origin=(88.9, 6.35, -12.7), x_dir=(0, 0, 1), z_dir=(1, 0, 0))):
        Polygon((0, 0), (0, 7.845662253), (2.4892, 6.35), (2.4892, 0), align=None)
    revolve(axis=Axis((88.9, 12.7, -12.7), (0, -1, 0)), mode=Mode.SUBTRACT)

    # LPattern3 copy 29 sketch → LPattern3 copy 29 (revolve, cut)
    with BuildSketch(Plane(origin=(-63.5, 6.35, -38.1), x_dir=(0, 0, 1), z_dir=(1, 0, 0))):
        Polygon((0, 0), (0, 7.845662253), (2.4892, 6.35), (2.4892, 0), align=None)
    revolve(axis=Axis((-63.5, 12.7, -38.1), (0, -1, 0)), mode=Mode.SUBTRACT)

    # LPattern3 copy 30 sketch → LPattern3 copy 30 (revolve, cut)
    with BuildSketch(Plane(origin=(-38.1, 6.35, -38.1), x_dir=(0, 0, 1), z_dir=(1, 0, 0))):
        Polygon((0, 0), (0, 7.845662253), (2.4892, 6.35), (2.4892, 0), align=None)
    revolve(axis=Axis((-38.1, 12.7, -38.1), (0, -1, 0)), mode=Mode.SUBTRACT)

    # LPattern3 copy 31 sketch → LPattern3 copy 31 (revolve, cut)
    with BuildSketch(Plane(origin=(-12.7, 6.35, -38.1), x_dir=(0, 0, 1), z_dir=(1, 0, 0))):
        Polygon((0, 0), (0, 7.845662253), (2.4892, 6.35), (2.4892, 0), align=None)
    revolve(axis=Axis((-12.7, 12.7, -38.1), (0, -1, 0)), mode=Mode.SUBTRACT)

    # LPattern3 copy 32 sketch → LPattern3 copy 32 (revolve, cut)
    with BuildSketch(Plane(origin=(12.7, 6.35, -38.1), x_dir=(0, 0, 1), z_dir=(1, 0, 0))):
        Polygon((0, 0), (0, 7.845662253), (2.4892, 6.35), (2.4892, 0), align=None)
    revolve(axis=Axis((12.7, 12.7, -38.1), (0, -1, 0)), mode=Mode.SUBTRACT)

    # LPattern3 copy 33 sketch → LPattern3 copy 33 (revolve, cut)
    with BuildSketch(Plane(origin=(38.1, 6.35, -38.1), x_dir=(0, 0, 1), z_dir=(1, 0, 0))):
        Polygon((0, 0), (0, 7.845662253), (2.4892, 6.35), (2.4892, 0), align=None)
    revolve(axis=Axis((38.1, 12.7, -38.1), (0, -1, 0)), mode=Mode.SUBTRACT)

    # LPattern3 copy 34 sketch → LPattern3 copy 34 (revolve, cut)
    with BuildSketch(Plane(origin=(63.5, 6.35, -38.1), x_dir=(0, 0, 1), z_dir=(1, 0, 0))):
        Polygon((0, 0), (0, 7.845662253), (2.4892, 6.35), (2.4892, 0), align=None)
    revolve(axis=Axis((63.5, 12.7, -38.1), (0, -1, 0)), mode=Mode.SUBTRACT)

    # LPattern3 copy 35 sketch → LPattern3 copy 35 (revolve, cut)
    with BuildSketch(Plane(origin=(88.9, 6.35, -38.1), x_dir=(0, 0, 1), z_dir=(1, 0, 0))):
        Polygon((0, 0), (0, 7.845662253), (2.4892, 6.35), (2.4892, 0), align=None)
    revolve(axis=Axis((88.9, 12.7, -38.1), (0, -1, 0)), mode=Mode.SUBTRACT)

    # LPattern3 copy 36 sketch → LPattern3 copy 36 (revolve, cut)
    with BuildSketch(Plane(origin=(-63.5, 6.35, -63.5), x_dir=(0, 0, 1), z_dir=(1, 0, 0))):
        Polygon((0, 0), (0, 7.845662253), (2.4892, 6.35), (2.4892, 0), align=None)
    revolve(axis=Axis((-63.5, 12.7, -63.5), (0, -1, 0)), mode=Mode.SUBTRACT)

    # LPattern3 copy 37 sketch → LPattern3 copy 37 (revolve, cut)
    with BuildSketch(Plane(origin=(-38.1, 6.35, -63.5), x_dir=(0, 0, 1), z_dir=(1, 0, 0))):
        Polygon((0, 0), (0, 7.845662253), (2.4892, 6.35), (2.4892, 0), align=None)
    revolve(axis=Axis((-38.1, 12.7, -63.5), (0, -1, 0)), mode=Mode.SUBTRACT)

    # LPattern3 copy 38 sketch → LPattern3 copy 38 (revolve, cut)
    with BuildSketch(Plane(origin=(-12.7, 6.35, -63.5), x_dir=(0, 0, 1), z_dir=(1, 0, 0))):
        Polygon((0, 0), (0, 7.845662253), (2.4892, 6.35), (2.4892, 0), align=None)
    revolve(axis=Axis((-12.7, 12.7, -63.5), (0, -1, 0)), mode=Mode.SUBTRACT)

    # LPattern3 copy 39 sketch → LPattern3 copy 39 (revolve, cut)
    with BuildSketch(Plane(origin=(12.7, 6.35, -63.5), x_dir=(0, 0, 1), z_dir=(1, 0, 0))):
        Polygon((0, 0), (0, 7.845662253), (2.4892, 6.35), (2.4892, 0), align=None)
    revolve(axis=Axis((12.7, 12.7, -63.5), (0, -1, 0)), mode=Mode.SUBTRACT)

    # LPattern3 copy 40 sketch → LPattern3 copy 40 (revolve, cut)
    with BuildSketch(Plane(origin=(38.1, 6.35, -63.5), x_dir=(0, 0, 1), z_dir=(1, 0, 0))):
        Polygon((0, 0), (0, 7.845662253), (2.4892, 6.35), (2.4892, 0), align=None)
    revolve(axis=Axis((38.1, 12.7, -63.5), (0, -1, 0)), mode=Mode.SUBTRACT)

    # LPattern3 copy 41 sketch → LPattern3 copy 41 (revolve, cut)
    with BuildSketch(Plane(origin=(63.5, 6.35, -63.5), x_dir=(0, 0, 1), z_dir=(1, 0, 0))):
        Polygon((0, 0), (0, 7.845662253), (2.4892, 6.35), (2.4892, 0), align=None)
    revolve(axis=Axis((63.5, 12.7, -63.5), (0, -1, 0)), mode=Mode.SUBTRACT)

    # LPattern3 copy 42 sketch → LPattern3 copy 42 (revolve, cut)
    with BuildSketch(Plane(origin=(88.9, 6.35, -63.5), x_dir=(0, 0, 1), z_dir=(1, 0, 0))):
        Polygon((0, 0), (0, 7.845662253), (2.4892, 6.35), (2.4892, 0), align=None)
    revolve(axis=Axis((88.9, 12.7, -63.5), (0, -1, 0)), mode=Mode.SUBTRACT)

    # LPattern3 copy 43 sketch → LPattern3 copy 43 (revolve, cut)
    with BuildSketch(Plane(origin=(-63.5, 6.35, -88.9), x_dir=(0, 0, 1), z_dir=(1, 0, 0))):
        Polygon((0, 0), (0, 7.845662253), (2.4892, 6.35), (2.4892, 0), align=None)
    revolve(axis=Axis((-63.5, 12.7, -88.9), (0, -1, 0)), mode=Mode.SUBTRACT)

    # LPattern3 copy 44 sketch → LPattern3 copy 44 (revolve, cut)
    with BuildSketch(Plane(origin=(-38.1, 6.35, -88.9), x_dir=(0, 0, 1), z_dir=(1, 0, 0))):
        Polygon((0, 0), (0, 7.845662253), (2.4892, 6.35), (2.4892, 0), align=None)
    revolve(axis=Axis((-38.1, 12.7, -88.9), (0, -1, 0)), mode=Mode.SUBTRACT)

    # LPattern3 copy 45 sketch → LPattern3 copy 45 (revolve, cut)
    with BuildSketch(Plane(origin=(-12.7, 6.35, -88.9), x_dir=(0, 0, 1), z_dir=(1, 0, 0))):
        Polygon((0, 0), (0, 7.845662253), (2.4892, 6.35), (2.4892, 0), align=None)
    revolve(axis=Axis((-12.7, 12.7, -88.9), (0, -1, 0)), mode=Mode.SUBTRACT)

    # LPattern3 copy 46 sketch → LPattern3 copy 46 (revolve, cut)
    with BuildSketch(Plane(origin=(12.7, 6.35, -88.9), x_dir=(0, 0, 1), z_dir=(1, 0, 0))):
        Polygon((0, 0), (0, 7.845662253), (2.4892, 6.35), (2.4892, 0), align=None)
    revolve(axis=Axis((12.7, 12.7, -88.9), (0, -1, 0)), mode=Mode.SUBTRACT)

    # LPattern3 copy 47 sketch → LPattern3 copy 47 (revolve, cut)
    with BuildSketch(Plane(origin=(38.1, 6.35, -88.9), x_dir=(0, 0, 1), z_dir=(1, 0, 0))):
        Polygon((0, 0), (0, 7.845662253), (2.4892, 6.35), (2.4892, 0), align=None)
    revolve(axis=Axis((38.1, 12.7, -88.9), (0, -1, 0)), mode=Mode.SUBTRACT)

    # LPattern3 copy 48 sketch → LPattern3 copy 48 (revolve, cut)
    with BuildSketch(Plane(origin=(63.5, 6.35, -88.9), x_dir=(0, 0, 1), z_dir=(1, 0, 0))):
        Polygon((0, 0), (0, 7.845662253), (2.4892, 6.35), (2.4892, 0), align=None)
    revolve(axis=Axis((63.5, 12.7, -88.9), (0, -1, 0)), mode=Mode.SUBTRACT)

    # LPattern3 copy 49 sketch → LPattern3 copy 49 (revolve, cut)
    with BuildSketch(Plane(origin=(88.9, 6.35, -88.9), x_dir=(0, 0, 1), z_dir=(1, 0, 0))):
        Polygon((0, 0), (0, 7.845662253), (2.4892, 6.35), (2.4892, 0), align=None)
    revolve(axis=Axis((88.9, 12.7, -88.9), (0, -1, 0)), mode=Mode.SUBTRACT)


solid = part.part
